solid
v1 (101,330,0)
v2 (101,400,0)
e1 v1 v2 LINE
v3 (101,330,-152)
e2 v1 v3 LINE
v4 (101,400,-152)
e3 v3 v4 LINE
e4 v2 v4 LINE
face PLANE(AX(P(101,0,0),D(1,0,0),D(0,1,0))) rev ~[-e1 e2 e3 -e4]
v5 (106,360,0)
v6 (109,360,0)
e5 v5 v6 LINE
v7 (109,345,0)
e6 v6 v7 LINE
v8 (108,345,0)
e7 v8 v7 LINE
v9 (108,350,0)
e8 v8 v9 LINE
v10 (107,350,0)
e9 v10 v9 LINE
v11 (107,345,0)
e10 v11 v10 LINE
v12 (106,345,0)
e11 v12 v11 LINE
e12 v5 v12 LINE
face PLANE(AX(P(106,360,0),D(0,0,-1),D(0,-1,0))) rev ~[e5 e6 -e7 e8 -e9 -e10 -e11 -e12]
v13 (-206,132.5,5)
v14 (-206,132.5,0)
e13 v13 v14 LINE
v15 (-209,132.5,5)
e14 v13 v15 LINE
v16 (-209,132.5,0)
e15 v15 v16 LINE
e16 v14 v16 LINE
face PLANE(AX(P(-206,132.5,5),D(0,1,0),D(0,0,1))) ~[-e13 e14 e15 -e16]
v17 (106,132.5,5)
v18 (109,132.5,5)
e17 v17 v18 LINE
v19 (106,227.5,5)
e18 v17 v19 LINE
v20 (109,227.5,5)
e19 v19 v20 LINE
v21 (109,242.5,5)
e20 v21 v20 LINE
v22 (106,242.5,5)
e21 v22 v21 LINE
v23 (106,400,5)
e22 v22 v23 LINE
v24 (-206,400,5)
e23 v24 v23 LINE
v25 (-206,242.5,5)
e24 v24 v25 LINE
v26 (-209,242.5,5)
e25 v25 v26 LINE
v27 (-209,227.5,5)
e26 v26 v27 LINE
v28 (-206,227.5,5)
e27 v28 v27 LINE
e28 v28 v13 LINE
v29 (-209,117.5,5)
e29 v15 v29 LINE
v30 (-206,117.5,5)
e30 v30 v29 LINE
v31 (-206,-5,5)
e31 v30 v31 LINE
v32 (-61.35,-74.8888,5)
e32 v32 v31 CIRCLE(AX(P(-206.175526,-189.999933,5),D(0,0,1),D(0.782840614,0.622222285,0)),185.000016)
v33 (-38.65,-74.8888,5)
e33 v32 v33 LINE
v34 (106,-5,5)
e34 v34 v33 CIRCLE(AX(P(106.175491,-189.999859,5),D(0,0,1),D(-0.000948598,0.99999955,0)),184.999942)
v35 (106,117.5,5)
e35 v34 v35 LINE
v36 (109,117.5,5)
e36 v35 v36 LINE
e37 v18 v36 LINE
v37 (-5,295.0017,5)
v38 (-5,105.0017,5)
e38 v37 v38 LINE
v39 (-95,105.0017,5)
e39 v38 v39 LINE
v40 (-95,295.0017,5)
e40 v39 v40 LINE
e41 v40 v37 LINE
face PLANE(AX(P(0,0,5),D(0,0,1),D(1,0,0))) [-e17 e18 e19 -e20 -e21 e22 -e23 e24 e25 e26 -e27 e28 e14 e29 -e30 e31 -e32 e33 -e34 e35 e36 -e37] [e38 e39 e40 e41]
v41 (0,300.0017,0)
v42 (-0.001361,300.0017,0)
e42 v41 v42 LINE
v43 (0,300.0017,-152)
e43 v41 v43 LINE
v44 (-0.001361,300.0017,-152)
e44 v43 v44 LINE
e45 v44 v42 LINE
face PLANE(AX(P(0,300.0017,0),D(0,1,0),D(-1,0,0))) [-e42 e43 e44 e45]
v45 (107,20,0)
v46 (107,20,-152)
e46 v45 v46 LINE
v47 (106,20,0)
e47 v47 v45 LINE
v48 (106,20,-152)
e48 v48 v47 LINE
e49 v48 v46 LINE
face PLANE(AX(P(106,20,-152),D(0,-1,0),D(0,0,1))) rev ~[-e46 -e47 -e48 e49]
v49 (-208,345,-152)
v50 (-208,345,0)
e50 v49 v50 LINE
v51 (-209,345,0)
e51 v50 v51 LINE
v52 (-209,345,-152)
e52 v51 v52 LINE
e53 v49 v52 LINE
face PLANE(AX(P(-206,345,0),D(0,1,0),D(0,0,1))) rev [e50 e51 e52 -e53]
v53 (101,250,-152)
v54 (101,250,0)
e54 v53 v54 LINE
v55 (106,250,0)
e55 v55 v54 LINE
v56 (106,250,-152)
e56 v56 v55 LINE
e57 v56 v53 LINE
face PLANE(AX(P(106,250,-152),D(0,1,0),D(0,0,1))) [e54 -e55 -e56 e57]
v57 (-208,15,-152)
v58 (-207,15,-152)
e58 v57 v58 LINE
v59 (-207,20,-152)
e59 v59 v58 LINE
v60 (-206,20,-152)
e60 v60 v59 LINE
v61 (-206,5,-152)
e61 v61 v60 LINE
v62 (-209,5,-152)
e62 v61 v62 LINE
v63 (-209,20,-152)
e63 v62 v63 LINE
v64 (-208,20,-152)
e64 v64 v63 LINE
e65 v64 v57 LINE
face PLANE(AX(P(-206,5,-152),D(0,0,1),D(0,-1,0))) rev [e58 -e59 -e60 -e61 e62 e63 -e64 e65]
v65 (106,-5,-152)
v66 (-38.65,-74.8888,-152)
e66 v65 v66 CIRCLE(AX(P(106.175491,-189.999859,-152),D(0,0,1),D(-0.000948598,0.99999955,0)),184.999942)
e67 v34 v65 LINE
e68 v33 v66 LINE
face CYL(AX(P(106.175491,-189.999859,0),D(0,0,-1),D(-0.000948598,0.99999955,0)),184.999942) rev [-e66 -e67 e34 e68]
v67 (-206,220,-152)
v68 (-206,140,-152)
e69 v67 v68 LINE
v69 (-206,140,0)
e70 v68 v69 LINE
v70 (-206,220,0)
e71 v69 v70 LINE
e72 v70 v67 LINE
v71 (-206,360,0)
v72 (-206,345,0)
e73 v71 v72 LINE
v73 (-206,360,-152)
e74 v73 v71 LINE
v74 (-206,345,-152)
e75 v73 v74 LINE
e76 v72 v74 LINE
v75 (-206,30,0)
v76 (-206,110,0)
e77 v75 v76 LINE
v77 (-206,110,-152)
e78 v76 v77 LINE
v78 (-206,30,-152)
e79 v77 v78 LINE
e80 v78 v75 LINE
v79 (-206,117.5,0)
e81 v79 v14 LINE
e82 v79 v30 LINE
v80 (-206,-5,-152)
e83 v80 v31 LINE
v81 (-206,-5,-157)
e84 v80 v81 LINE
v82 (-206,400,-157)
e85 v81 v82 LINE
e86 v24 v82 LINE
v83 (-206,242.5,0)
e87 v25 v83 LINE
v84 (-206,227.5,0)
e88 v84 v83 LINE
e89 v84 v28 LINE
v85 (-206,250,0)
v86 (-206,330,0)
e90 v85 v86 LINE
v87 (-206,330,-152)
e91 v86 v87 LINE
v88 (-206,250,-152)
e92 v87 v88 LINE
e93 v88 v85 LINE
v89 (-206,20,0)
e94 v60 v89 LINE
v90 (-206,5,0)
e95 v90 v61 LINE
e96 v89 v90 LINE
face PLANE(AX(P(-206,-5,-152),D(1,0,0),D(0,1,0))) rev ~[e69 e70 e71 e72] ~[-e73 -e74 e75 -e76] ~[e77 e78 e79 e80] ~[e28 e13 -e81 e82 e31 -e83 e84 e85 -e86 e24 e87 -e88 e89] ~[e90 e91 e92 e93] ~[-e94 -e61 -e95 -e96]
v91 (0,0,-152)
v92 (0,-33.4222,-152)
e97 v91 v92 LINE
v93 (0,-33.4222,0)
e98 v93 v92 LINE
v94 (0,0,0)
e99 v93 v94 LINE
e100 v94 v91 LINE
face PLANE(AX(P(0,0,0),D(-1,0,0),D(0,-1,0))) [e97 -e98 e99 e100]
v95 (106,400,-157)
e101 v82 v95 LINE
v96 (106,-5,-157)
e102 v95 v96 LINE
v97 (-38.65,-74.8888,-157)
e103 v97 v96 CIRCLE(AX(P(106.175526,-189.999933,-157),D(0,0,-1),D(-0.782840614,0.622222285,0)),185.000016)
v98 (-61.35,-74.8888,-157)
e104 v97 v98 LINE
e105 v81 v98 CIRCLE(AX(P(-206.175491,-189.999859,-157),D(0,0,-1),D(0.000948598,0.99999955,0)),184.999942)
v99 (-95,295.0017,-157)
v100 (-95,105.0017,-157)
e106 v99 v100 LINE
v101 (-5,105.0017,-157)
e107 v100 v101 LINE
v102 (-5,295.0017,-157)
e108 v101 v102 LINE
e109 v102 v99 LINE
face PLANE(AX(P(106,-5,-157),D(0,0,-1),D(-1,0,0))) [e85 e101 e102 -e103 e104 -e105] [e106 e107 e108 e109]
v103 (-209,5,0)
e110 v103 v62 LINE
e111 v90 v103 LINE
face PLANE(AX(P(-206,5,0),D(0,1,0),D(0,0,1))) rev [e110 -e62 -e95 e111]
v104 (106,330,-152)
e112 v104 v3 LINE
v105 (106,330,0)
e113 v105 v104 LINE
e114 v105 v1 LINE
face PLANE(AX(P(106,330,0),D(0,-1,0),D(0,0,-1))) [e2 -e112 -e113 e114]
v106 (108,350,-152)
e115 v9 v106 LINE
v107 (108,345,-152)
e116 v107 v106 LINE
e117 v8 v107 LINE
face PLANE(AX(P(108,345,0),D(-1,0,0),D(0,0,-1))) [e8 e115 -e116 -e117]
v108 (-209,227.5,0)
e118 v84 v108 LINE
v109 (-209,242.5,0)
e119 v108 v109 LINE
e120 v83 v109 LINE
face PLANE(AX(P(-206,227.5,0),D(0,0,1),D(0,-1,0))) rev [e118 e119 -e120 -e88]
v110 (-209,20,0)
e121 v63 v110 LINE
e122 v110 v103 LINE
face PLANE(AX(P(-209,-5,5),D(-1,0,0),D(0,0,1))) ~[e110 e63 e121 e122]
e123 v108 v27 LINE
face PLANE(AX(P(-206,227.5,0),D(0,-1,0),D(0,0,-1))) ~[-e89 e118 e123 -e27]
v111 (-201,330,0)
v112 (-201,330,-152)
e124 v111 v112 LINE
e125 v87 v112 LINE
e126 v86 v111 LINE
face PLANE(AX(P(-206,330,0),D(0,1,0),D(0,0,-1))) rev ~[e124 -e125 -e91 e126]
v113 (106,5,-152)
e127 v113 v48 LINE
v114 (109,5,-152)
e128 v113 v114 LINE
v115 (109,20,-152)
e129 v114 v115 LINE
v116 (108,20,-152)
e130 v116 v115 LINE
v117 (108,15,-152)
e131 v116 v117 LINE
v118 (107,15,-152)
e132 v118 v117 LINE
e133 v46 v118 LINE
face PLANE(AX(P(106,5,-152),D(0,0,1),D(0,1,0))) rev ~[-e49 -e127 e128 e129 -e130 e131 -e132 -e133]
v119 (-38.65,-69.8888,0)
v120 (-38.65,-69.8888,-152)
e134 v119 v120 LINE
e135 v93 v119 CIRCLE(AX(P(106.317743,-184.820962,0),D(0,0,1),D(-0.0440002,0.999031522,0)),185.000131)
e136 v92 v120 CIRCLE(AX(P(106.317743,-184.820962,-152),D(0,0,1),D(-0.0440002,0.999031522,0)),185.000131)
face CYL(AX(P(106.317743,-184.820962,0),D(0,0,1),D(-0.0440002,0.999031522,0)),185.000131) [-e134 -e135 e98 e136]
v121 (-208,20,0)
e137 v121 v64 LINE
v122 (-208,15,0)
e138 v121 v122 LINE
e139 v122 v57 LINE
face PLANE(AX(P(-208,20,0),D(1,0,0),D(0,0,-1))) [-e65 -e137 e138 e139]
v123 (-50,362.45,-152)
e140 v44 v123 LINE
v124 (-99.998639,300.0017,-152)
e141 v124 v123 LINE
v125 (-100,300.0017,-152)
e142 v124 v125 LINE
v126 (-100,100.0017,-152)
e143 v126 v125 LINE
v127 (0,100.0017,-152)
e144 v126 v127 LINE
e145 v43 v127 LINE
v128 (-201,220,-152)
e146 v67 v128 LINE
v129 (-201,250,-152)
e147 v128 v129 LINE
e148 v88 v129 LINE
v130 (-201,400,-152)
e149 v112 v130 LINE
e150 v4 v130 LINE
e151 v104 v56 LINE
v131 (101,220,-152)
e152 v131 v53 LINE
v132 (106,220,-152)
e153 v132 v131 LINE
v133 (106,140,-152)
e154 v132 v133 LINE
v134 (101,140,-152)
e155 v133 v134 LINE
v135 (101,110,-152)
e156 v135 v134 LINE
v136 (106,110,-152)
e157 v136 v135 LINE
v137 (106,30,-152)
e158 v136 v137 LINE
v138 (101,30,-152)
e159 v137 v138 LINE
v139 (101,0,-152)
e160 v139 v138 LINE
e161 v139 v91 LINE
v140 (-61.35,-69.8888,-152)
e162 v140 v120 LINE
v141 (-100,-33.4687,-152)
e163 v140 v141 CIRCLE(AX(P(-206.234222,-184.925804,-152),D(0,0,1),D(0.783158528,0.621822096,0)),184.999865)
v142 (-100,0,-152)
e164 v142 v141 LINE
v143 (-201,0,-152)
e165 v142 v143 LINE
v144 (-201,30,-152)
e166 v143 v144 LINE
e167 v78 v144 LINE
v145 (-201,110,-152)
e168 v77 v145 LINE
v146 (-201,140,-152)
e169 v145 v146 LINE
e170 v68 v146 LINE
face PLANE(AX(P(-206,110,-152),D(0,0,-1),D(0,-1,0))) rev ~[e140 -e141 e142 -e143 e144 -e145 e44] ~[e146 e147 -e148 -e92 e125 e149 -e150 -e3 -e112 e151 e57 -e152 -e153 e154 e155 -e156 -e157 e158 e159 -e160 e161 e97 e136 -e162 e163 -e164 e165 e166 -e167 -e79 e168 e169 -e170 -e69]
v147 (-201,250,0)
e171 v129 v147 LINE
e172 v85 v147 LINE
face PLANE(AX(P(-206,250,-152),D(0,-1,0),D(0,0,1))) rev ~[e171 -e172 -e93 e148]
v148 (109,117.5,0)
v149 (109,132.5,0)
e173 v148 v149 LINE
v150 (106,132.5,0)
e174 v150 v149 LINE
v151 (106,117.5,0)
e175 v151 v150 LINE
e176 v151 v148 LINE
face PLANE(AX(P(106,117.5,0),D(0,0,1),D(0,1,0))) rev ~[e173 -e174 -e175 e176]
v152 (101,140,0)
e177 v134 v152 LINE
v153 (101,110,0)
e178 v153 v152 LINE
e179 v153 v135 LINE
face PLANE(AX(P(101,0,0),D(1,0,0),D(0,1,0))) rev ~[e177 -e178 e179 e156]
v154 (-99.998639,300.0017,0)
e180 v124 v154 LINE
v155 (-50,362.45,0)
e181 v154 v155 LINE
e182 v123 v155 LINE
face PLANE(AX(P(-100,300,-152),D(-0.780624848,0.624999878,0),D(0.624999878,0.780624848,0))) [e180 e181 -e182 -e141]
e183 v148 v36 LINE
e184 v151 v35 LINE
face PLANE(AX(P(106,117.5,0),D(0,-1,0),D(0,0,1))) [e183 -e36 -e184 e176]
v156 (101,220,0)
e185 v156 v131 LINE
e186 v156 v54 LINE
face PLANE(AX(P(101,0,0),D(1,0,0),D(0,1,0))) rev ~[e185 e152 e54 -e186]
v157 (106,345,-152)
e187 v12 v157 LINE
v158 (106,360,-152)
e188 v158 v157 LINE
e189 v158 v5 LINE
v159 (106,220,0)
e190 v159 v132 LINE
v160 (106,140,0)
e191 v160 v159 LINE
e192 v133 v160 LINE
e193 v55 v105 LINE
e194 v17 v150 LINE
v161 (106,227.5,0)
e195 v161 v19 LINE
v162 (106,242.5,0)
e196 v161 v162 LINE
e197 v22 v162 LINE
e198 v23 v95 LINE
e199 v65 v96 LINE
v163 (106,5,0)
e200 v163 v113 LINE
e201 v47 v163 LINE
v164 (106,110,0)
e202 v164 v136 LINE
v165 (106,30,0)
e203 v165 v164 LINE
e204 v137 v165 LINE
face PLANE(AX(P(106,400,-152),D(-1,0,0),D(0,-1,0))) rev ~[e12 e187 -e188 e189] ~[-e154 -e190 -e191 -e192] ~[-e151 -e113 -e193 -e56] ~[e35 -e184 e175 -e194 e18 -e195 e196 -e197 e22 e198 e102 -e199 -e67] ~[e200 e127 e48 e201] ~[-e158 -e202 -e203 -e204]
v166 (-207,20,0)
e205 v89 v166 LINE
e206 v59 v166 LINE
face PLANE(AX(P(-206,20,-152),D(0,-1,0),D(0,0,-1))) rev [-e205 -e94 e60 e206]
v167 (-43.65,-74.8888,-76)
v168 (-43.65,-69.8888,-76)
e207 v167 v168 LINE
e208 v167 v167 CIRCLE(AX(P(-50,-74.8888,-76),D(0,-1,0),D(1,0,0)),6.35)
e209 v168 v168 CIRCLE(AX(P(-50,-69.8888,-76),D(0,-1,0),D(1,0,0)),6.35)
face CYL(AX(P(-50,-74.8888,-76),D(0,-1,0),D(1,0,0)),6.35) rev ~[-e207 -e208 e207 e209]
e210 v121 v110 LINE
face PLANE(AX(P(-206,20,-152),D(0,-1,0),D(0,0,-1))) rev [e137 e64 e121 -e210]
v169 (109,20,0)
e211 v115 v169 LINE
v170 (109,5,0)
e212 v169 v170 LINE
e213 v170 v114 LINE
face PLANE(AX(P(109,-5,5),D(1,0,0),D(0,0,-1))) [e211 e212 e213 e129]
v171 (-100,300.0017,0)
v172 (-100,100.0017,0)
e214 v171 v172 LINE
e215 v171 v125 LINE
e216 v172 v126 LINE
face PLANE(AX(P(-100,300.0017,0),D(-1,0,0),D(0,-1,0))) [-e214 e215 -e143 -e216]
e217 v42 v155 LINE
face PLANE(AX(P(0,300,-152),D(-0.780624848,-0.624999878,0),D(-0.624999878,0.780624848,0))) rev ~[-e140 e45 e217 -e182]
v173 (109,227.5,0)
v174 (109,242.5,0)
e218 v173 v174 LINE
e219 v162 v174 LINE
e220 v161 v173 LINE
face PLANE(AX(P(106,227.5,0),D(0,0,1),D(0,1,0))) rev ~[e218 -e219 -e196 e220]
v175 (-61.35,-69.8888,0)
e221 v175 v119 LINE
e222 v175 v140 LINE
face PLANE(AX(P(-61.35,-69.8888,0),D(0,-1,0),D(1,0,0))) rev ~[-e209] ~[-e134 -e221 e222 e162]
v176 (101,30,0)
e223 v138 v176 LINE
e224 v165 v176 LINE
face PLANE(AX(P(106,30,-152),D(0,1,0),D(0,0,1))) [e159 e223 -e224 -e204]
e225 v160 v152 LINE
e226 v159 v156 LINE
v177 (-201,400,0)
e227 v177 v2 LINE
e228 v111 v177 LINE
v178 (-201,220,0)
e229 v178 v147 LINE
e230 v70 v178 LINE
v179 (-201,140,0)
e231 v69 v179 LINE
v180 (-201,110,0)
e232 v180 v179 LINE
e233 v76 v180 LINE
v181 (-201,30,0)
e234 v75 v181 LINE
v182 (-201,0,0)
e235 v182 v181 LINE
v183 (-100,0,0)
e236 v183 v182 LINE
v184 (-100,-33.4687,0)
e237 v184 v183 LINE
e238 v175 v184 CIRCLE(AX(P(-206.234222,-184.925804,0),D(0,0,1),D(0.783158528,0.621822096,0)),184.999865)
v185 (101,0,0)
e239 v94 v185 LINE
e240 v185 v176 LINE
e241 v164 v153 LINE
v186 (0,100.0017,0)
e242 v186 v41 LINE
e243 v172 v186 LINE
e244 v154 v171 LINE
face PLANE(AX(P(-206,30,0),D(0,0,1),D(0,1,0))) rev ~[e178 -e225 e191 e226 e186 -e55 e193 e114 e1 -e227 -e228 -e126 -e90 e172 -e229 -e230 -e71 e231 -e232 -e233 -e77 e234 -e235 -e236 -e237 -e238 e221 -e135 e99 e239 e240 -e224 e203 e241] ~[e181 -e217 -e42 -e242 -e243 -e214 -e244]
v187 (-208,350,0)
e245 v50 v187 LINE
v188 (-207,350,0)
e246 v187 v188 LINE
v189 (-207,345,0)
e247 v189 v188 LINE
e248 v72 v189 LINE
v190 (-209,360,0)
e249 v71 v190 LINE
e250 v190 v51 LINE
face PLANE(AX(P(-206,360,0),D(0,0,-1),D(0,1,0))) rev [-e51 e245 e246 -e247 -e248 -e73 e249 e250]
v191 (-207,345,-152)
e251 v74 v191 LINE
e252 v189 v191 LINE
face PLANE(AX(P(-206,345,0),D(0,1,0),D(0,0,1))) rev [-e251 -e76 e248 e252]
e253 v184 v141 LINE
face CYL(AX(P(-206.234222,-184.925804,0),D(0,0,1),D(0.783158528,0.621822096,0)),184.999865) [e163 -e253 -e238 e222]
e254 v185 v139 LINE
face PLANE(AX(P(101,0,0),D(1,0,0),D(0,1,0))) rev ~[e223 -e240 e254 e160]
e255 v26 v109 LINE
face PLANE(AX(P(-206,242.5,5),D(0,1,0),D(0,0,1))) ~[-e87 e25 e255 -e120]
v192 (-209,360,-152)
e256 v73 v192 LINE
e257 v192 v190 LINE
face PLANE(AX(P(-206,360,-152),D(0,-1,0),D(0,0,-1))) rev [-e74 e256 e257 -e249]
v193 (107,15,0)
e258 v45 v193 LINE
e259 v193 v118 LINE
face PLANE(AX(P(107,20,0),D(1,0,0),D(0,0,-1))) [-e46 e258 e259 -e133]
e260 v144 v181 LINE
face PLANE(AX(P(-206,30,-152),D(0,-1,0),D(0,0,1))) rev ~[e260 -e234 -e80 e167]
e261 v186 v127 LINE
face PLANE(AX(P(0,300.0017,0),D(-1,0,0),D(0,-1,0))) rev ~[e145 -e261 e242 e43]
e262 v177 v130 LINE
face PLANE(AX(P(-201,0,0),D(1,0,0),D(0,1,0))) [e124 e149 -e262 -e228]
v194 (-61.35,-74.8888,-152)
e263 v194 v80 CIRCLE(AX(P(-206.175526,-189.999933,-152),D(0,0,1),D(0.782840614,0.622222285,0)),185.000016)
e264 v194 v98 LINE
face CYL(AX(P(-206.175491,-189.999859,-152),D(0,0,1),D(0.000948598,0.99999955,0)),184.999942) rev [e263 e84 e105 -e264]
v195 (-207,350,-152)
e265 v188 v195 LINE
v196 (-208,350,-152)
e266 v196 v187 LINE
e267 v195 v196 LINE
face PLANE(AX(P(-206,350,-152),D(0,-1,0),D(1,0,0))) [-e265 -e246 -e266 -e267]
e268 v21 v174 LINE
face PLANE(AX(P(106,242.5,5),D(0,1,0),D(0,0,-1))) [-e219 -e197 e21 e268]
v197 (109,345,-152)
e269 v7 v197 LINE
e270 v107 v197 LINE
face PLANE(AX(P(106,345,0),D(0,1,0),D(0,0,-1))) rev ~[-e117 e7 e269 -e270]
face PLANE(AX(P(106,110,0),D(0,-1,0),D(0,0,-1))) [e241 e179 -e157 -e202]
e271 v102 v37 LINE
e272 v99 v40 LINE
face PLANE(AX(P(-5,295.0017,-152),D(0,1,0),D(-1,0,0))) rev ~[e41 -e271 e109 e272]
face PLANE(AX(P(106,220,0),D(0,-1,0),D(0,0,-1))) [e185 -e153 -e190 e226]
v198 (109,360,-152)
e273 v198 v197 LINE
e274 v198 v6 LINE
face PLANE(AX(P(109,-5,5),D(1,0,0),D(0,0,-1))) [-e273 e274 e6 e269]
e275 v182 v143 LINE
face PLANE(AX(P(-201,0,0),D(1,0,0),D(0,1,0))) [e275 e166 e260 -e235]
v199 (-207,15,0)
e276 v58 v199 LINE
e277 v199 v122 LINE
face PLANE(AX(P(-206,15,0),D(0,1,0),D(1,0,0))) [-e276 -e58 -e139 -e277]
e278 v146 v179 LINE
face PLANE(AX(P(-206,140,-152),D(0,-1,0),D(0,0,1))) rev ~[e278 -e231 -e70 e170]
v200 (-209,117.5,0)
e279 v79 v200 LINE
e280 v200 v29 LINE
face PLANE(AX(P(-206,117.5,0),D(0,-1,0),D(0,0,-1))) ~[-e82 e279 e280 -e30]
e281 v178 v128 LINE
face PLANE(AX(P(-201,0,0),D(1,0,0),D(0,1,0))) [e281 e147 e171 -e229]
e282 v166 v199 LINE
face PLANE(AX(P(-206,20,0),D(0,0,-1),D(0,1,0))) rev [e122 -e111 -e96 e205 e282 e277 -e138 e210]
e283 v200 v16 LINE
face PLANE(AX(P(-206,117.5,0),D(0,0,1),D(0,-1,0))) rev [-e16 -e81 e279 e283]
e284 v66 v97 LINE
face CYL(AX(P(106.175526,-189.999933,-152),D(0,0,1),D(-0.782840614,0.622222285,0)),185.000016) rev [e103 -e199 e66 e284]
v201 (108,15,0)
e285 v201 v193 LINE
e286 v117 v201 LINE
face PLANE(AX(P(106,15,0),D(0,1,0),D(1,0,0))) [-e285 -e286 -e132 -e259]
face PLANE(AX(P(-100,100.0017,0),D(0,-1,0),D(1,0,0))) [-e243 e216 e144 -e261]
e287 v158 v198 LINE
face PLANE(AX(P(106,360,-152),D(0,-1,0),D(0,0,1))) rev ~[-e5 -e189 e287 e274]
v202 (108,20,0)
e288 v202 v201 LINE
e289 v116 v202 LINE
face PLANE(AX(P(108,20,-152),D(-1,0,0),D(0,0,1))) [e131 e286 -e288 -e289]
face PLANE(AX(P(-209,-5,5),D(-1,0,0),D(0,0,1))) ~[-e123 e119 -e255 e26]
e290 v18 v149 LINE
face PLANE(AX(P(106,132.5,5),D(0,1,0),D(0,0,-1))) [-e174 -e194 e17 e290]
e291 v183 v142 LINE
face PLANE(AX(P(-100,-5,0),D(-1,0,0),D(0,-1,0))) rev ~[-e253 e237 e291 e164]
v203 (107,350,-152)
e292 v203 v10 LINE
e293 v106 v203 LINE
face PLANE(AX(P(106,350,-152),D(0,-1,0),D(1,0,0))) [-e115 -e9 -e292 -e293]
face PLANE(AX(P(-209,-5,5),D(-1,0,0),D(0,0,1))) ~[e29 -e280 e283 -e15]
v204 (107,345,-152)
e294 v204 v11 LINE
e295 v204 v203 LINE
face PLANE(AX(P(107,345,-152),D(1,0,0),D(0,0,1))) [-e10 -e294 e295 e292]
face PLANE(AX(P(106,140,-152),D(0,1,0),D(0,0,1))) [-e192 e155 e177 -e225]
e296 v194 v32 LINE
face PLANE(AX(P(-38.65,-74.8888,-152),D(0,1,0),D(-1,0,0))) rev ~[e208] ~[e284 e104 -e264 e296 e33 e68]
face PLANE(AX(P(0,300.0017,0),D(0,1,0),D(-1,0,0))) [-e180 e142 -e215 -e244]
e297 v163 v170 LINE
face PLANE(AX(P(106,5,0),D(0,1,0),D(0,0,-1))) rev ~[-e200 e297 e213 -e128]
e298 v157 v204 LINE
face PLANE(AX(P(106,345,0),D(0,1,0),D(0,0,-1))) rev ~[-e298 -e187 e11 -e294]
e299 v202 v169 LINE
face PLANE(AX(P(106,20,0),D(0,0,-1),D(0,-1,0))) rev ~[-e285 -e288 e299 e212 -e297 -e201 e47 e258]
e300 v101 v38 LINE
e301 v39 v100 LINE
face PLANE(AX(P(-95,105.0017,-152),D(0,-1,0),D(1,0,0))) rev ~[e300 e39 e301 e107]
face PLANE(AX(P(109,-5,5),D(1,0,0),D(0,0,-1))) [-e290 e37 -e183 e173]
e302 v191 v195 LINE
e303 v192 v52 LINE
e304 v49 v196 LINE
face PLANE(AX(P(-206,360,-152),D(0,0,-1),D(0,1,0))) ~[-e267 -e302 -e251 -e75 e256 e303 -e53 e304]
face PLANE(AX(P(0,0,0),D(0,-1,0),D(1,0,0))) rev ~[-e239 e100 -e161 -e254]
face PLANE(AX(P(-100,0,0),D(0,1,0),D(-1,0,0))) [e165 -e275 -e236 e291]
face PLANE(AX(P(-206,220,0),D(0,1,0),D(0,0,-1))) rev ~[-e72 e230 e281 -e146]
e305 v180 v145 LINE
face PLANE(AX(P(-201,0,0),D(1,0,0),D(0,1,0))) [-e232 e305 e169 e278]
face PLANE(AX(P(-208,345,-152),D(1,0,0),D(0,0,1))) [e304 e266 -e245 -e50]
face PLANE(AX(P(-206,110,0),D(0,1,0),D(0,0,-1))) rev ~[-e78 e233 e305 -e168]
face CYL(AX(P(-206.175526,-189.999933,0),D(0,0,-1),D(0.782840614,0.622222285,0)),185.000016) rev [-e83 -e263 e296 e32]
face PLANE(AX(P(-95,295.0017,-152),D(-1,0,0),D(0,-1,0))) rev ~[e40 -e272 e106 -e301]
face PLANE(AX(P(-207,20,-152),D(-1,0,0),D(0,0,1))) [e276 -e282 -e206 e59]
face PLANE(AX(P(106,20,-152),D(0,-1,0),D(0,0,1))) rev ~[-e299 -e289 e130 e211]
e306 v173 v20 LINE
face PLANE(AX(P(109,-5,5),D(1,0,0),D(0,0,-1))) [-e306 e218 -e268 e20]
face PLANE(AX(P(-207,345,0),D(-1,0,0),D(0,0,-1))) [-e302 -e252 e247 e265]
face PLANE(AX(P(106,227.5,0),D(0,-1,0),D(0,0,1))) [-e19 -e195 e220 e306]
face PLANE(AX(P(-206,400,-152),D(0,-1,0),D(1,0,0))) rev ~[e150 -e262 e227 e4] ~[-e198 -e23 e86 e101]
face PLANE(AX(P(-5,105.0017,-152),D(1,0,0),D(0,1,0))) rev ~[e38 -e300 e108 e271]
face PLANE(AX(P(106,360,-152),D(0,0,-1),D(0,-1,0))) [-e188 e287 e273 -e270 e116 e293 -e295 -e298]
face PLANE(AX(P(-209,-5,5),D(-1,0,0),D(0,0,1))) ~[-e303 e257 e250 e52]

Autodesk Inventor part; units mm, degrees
ref_plane "YZ Plane" through (0, 0, 0) normal (1, 0, 0) x (0, 1, 0)
sketch "Boceto1" plane through (0, 0, 0) normal (0, 0, 1) x (1, 0, 0)
  line L0 (0, 0) -> (100, 0)
  line L1 (0, 300.0017) -> (0, 100.0017)
  line L2 (0, 0) -> (101, 0)
  line L3 (101, 0) -> (101, 400)
  line L4 (101, 400) -> (0, 400)
  line L5 (0, 300.0017) -> (0, 100.0017)
  line L6 (0, 0) -> (98.1777, 0) construction
  line L7 (98.1777, 0) -> (98.1777, 330) construction
  line L8 (98.1777, 330) -> (0, 330) construction
  line L9 (0, 330) -> (0, 0) construction
  line L10 (0, 300.0017) -> (-100, 300.0017) construction
  line L11 (-100, 300.0017) -> (-100, 100.0017) construction
  line L12 (-100, 100.0017) -> (0, 100.0017) construction
  line L13 (0, 100.0017) -> (0, 300.0017) construction
  line L14 (0, 300.0017) -> (-100, 300.0017)
  line L15 (-100, 300.0017) -> (-100, 100.0017)
  line L16 (-100, 100.0017) -> (0, 100.0017)
  line L17 (0, 100.0017) -> (0, 300.0017)
  line L18 (-100, 0) -> (-201, 0)
  line L19 (-201, 0) -> (-201, 400)
  line L20 (-201, 400) -> (-100, 400)
  line L21 (-100, 300.0017) -> (-100, 100.0017)
  line L22 (-100, 0) -> (0, 0)
  line L23 (-100, 400) -> (0, 400)
  line L24 (-95, 105.0017) -> (-5, 105.0017)
  line L25 (-5, 105.0017) -> (-5, 295.0017)
  line L26 (-5, 295.0017) -> (-95, 295.0017)
  line L27 (-95, 295.0017) -> (-95, 105.0017)
  line L28 (106, 400) -> (106, -5)
  line L29 (106, -5) -> (-206, -5)
  line L30 (-206, -5) -> (-206, 400)
  line L31 (-206, 400) -> (-201, 400)
  line L32 (101, 400) -> (106, 400)
  line L33 (-100, 100.0017) -> (-100, 0) construction
  line L34 (-50, -5) -> (-50, -75) construction
  line L35 (-56.35, -74.8888) -> (-43.65, -74.8888)
  line L36 (-43.65, -74.8888) -> (-38.65, -74.8888)
  line L37 (-56.35, -74.8888) -> (-61.35, -74.8888)
  arc A0 (-61.35, -74.8888) -> (-206, -5) centre (-206.1755, -189.9999) ccw
  arc A1 (106, -5) -> (-38.65, -74.8888) centre (106.1755, -189.9999) ccw
  line L38 (-38.65, -74.8888) -> (-38.65, -69.8888)
  line L39 (-61.35, -74.8888) -> (-61.35, -69.8888)
  arc A2 (-61.35, -69.8888) -> (-201, 0) centre (-206.2343, -184.9259) ccw
  arc A3 (98.1777, 0) -> (-38.65, -69.8888) centre (106.3177, -184.8208) ccw
  line L40 (-61.35, -69.8888) -> (-38.65, -69.8888)
  line L41 (-100, 0) -> (-100, -33.4687)
  line L42 (0, 0) -> (0, -33.4222)
  line L43 (-100, 400) -> (-100, 300.0017) construction
  dimension "d2" = 101
  dimension "d9" = 101
  dimension "d11" = 400
  dimension "d12" = 100
  dimension "d13" = 200
  dimension "d14" = 100
  dimension "d15" = 5
  dimension "d16" = 5
  dimension "d17" = 5
  dimension "d18" = 5
  dimension "d19" = 5
  dimension "d20" = 5
  dimension "d22" = 70
  dimension "d23" = 12.7
  dimension "d24" = 6.35
  dimension "d27" = 302
  dimension "d28" = 5
  dimension "d29" = 5
  dimension "d30" = 185
  dimension "d31" = 185
  dimension "d32" = 5
  dimension "d33" = 5
  dimension "d34" = 185
  dimension "d35" = 185
  dimension "d36" = 5
extrude "Extrusión1" add sketch "Boceto1" against normal blind 152 contours L0 A3 L29 L42 | L0 L2 L3 L32 L28 L29 A3 | L41 L29 A2 L18 | L29 A3 L42 | L29 A1 L38 A3 | A2 L29 L30 L31 L19 | L41 A2 L29 | A2 L39 A0 L29 | L38 L36 L35 L37 L39 L40 | L1 L16 L15 L14
sketch "Boceto2" plane through (0, 0, 0) normal (0, 0, 1) x (1, 0, 0)
  line L0 (-206, 400) -> (-206, -5) projected
  line L1 (106, -5) -> (106, 400) projected
  arc A0 (106, -5) -> (-38.65, -74.8888) centre (106.1755, -189.9999) ccw projected
  arc A1 (-61.35, -74.8888) -> (-206, -5) centre (-206.1755, -189.9999) ccw projected
  line L2 (-61.35, -74.8888) -> (-38.65, -74.8888) projected
  line L3 (-206, 400) -> (106, 400)
  line L4 (-201, 0) -> (-201, 400) projected
  line L5 (0, 300.0017) -> (-100, 300.0017) projected
  line L6 (0, 100.0017) -> (0, 300.0017) projected
  line L7 (-95, 105.0017) -> (-95, 295.0017) projected
  line L8 (-5, 295.0017) -> (-5, 105.0017) projected
  line L9 (-5, 105.0017) -> (-95, 105.0017) projected
  line L10 (-95, 295.0017) -> (-5, 295.0017) projected
  point P0 (0, 0)
extrude "Extrusión2" add sketch "Boceto2" along normal blind 5
ref_plane "Plano de trabajo1" through (106, -5, -152) normal (0, 0, -1) x (-1, 0, 0)
sketch "Boceto5" plane through (106, -5, -152) normal (0, 0, -1) x (-1, 0, 0)
  line L0 (312, 0) -> (312, 405) projected
  line L1 (312, 405) -> (307, 405) projected
  line L2 (5, 405) -> (307, 405) projected
  line L3 (5, 405) -> (0, 405) projected
  line L4 (0, 405) -> (0, 0) projected
  arc A0 (144.65, -69.8888) -> (0, 0) centre (-0.1755, -184.9999) ccw projected
  line L5 (144.65, -69.8888) -> (167.35, -69.8888) projected
  arc A1 (312, 0) -> (167.35, -69.8888) centre (312.1755, -184.9999) ccw projected
  line L6 (201, 110.0017) -> (111, 110.0017) projected
  line L7 (111, 110.0017) -> (111, 300.0017) projected
  line L8 (111, 300.0017) -> (201, 300.0017) projected
  line L9 (201, 300.0017) -> (201, 110.0017) projected
  point P0 (106, 5)
extrude "Extrusión3" add sketch "Boceto5" along normal blind 5
sketch "Boceto6" plane through (-61.35, -74.8888, 5) normal (0, -1, 0) x (1, 0, 0)
  line L0 (-144.65, -162) -> (167.35, -162) construction
  line L1 (11.35, -162) -> (11.35, -25.687) construction
  line L2 (0, -5) -> (0, -157) construction
  line L3 (0, -81) -> (22.7, -81) construction
  line L4 (22.7, -5) -> (22.7, -157) construction
  circle A0 centre (11.35, -81) radius 6.35
  point P0 (61.35, -5)
  dimension "d76" = 12.7
extrude "Extrusión4" cut sketch "Boceto6" against normal blind 5
sketch "Boceto7" plane through (-206, -5, 5) normal (-1, 0, 0) x (0, 0, 1)
  line L0 (-162, 0) -> (0, 0) construction
  line L1 (-81, 0) -> (-81, 5) construction
  line L2 (-81, 5) -> (-81, 35) construction
  line L3 (-81, 35) -> (-81, 115) construction
  line L4 (-81, 115) -> (-81, 145) construction
  line L5 (-81, 145) -> (-81, 225) construction
  line L6 (-81, 225) -> (-81, 255) construction
  line L7 (-81, 255) -> (-81, 335) construction
  line L8 (-157, 35) -> (-5, 35)
  line L9 (-5, 35) -> (-5, 115)
  line L10 (-5, 115) -> (-157, 115)
  line L11 (-157, 115) -> (-157, 35)
  line L12 (0, 405) -> (0, 0) projected
  line L13 (-162, 0) -> (-162, 405) projected
  line L14 (-5, 225) -> (-157, 225)
  line L15 (-157, 225) -> (-157, 145)
  line L16 (-157, 145) -> (-5, 145)
  line L17 (-5, 145) -> (-5, 225)
  line L18 (-5, 335) -> (-157, 335)
  line L19 (-157, 335) -> (-157, 255)
  line L20 (-157, 255) -> (-5, 255)
  line L21 (-5, 255) -> (-5, 335)
  point P0 (-5, 5)
  dimension "d47" = 5
  dimension "d48" = 30
  dimension "d49" = 80
  dimension "d50" = 30
  dimension "d51" = 80
  dimension "d52" = 30
  dimension "d53" = 80
  dimension "d54" = 5
  dimension "d55" = 5
  dimension "d58" = 110
sketch "Boceto8" plane through (106, -5, 5) normal (1, 0, 0) x (0, 0, -1)
  line L0 (5, 335) -> (157, 335) projected
  line L1 (157, 335) -> (157, 255) projected
  line L2 (157, 255) -> (5, 255) projected
  line L3 (5, 255) -> (5, 335) projected
  line L4 (5, 225) -> (157, 225) projected
  line L5 (157, 225) -> (157, 145) projected
  line L6 (157, 145) -> (5, 145) projected
  line L7 (5, 145) -> (5, 225) projected
  line L8 (5, 115) -> (157, 115) projected
  line L9 (157, 115) -> (157, 35) projected
  line L10 (157, 35) -> (5, 35) projected
  line L11 (5, 35) -> (5, 115) projected
  point P0 (5, 5)
extrude "Extrusión5" cut sketch "Boceto7" against normal blind 5
extrude "Extrusión6" cut sketch "Boceto8" against normal blind 5
sketch "Boceto9" plane through (106, -5, -152) normal (0, 0, 1) x (1, 0, 0)
  line L0 (0, 405) -> (0, 0) construction
  line L1 (0, 372.4568) -> (-312, 372.4568) construction
  line L2 (-312, 0) -> (-312, 405) construction
  line L3 (-156, 372.4568) -> (-156, 300.0017) construction
  line L4 (-111, 300.0017) -> (-201, 300.0017) construction
  line L5 (-312, 405) -> (0, 405) construction
  line L6 (-156, 405) -> (-156, 385) construction
  line L7 (-106, 405) -> (-106, 305) construction
  line L8 (-106, 305) -> (-206, 305) construction
  line L9 (-206, 305) -> (-106, 305)
  line L10 (-206, 305) -> (-156, 367.45)
  line L11 (-106, 305) -> (-156, 367.45)
  point P0 (-106, 5)
  dimension "d71" = 20
  dimension "d72" = 100
  dimension "d73" = 80
extrude "Extrusión7" add sketch "Boceto9" along normal blind 152
thread "Rosca1" size "M14x2" class "6H" standard "ANSI Metric M Profile" full length
sketch "Boceto11" plane through (106, -5, 5) normal (1, 0, 0) x (0, 0, -1)
  line L0 (157, 405) -> (157, 335) projected
  line L1 (5, 350) -> (157, 350)
  line L2 (157, 350) -> (157, 365)
  line L3 (157, 365) -> (5, 365)
  line L4 (5, 365) -> (5, 350)
  line L5 (5, 105.0017) -> (5, 305.0017) projected
  line L6 (5, 10) -> (157, 10)
  line L7 (157, 10) -> (157, 25)
  line L8 (157, 25) -> (5, 25)
  line L9 (5, 25) -> (5, 10)
  line L10 (162, 405) -> (0, 405) projected
  line L11 (157, 35) -> (5, 35) projected
  line L12 (0, 405) -> (0, 0) projected
  line L13 (5, 122.5) -> (0, 122.5)
  line L14 (0, 122.5) -> (0, 137.5)
  line L15 (0, 137.5) -> (5, 137.5)
  line L16 (5, 137.5) -> (5, 122.5)
  line L17 (5, 232.5) -> (0, 232.5)
  line L18 (0, 232.5) -> (0, 247.5)
  line L19 (0, 247.5) -> (5, 247.5)
  line L20 (5, 247.5) -> (5, 232.5)
  line L21 (157, 255) -> (5, 255) projected
  line L22 (5, 225) -> (157, 225) projected
  line L23 (157, 145) -> (5, 145) projected
  line L24 (5, 115) -> (157, 115) projected
  point P0 (5, 5)
  dimension "d79" = 152
  dimension "d80" = 40
  dimension "d81" = 15
  dimension "d84" = 15
  dimension "d89" = 10
  dimension "d92" = 7.5
  dimension "d93" = 7.5
  dimension "d94" = 7.5
  dimension "d95" = 7.5
extrude "Extrusión8" add sketch "Boceto11" along normal blind 3 contours L0 L1 L4 L3 | L19 L5 L17 L12 | L15 L5 L13 L12 | L9 L8 L7 L6
sketch "Boceto12" plane through (106, 345, -152) normal (0, -1, 0) x (1, 0, 0)
  line L0 (1, 152) -> (2, 152)
  line L1 (2, 152) -> (2, 0)
  line L2 (2, 0) -> (1, 0)
  line L3 (1, 0) -> (1, 152)
  line L4 (0, 152) -> (0, 0) projected
  line L5 (0, 152) -> (3, 152) projected
  line L6 (0, 0) -> (3, 0) projected
  point P0 (-106, 152)
  dimension "d96" = 1
  dimension "d97" = 1
  dimension "d98" = 0
  dimension "d99" = 0
extrude "Extrusión9" cut sketch "Boceto12" against normal blind 5 contours L0 L1 L2 L3
sketch "Boceto13" plane through (106, 20, 0) normal (0, 1, 0) x (1, 0, 0)
  line L0 (2, 0) -> (1, 0)
  line L1 (1, 0) -> (1, 152)
  line L2 (1, 152) -> (2, 152)
  line L3 (2, 152) -> (2, 0)
  line L4 (0, 0) -> (3, 0) projected
  line L5 (0, 0) -> (0, 152) projected
  line L6 (0, 152) -> (3, 152) projected
  point P0 (-106, 0)
  dimension "d102" = 0
  dimension "d103" = 1
  dimension "d104" = 1
  dimension "d105" = 0
extrude "Extrusión10" cut sketch "Boceto13" against normal blind 5 contours L0 L1 L2 L3
ref_plane "Plano de trabajo2" through (-50, -5, -157) normal (1, 0, 0) x (0, 0, -1)
mirror "Simetría1" about plane through (-50, -5, -157) normal (1, 0, 0) of "Extrusión8"
sketch "Boceto14" plane through (-206, 20, 0) normal (0, 1, 0) x (1, 0, 0)
  line L0 (-2, 152) -> (-1, 152)
  line L1 (-1, 152) -> (-1, 0)
  line L2 (-1, 0) -> (-2, 0)
  line L3 (-2, 0) -> (-2, 152)
  line L4 (0, 152) -> (-3, 152) projected
  line L5 (-3, 152) -> (-3, 0) projected
  line L6 (0, 0) -> (-3, 0) projected
  point P0 (206, 0)
  dimension "d108" = 0
  dimension "d109" = 1
  dimension "d110" = 1
  dimension "d111" = 0
extrude "Extrusión11" cut sketch "Boceto14" against normal blind 5 contours L0 L1 L2 L3
sketch "Boceto15" plane through (-206, 345, -152) normal (0, -1, 0) x (1, 0, 0)
  line L0 (-1, 0) -> (-2, 0)
  line L1 (-2, 0) -> (-2, 152)
  line L2 (-2, 152) -> (-1, 152)
  line L3 (-1, 152) -> (-1, 0)
  line L4 (0, 0) -> (-3, 0) projected
  line L5 (-3, 0) -> (-3, 152) projected
  line L6 (0, 152) -> (-3, 152) projected
  point P0 (206, 152)
  dimension "d114" = 0
  dimension "d115" = 1
  dimension "d116" = 1
  dimension "d117" = 0
extrude "Extrusión12" cut sketch "Boceto15" against normal blind 5 contours L0 L1 L2 L3
equation "\"d16\" = d15"
equation "\"d17\" = d15"
equation "\"d18\" = d15"
equation "\"d19\" = d15"
equation "\"d20\" = d15"
equation "\"d24\" = 0.5 * d23"
equation "\"d31\" = d30"
equation "\"d84\" = d81"
properties part number "Contenedor" material "Acrílico, claro"
